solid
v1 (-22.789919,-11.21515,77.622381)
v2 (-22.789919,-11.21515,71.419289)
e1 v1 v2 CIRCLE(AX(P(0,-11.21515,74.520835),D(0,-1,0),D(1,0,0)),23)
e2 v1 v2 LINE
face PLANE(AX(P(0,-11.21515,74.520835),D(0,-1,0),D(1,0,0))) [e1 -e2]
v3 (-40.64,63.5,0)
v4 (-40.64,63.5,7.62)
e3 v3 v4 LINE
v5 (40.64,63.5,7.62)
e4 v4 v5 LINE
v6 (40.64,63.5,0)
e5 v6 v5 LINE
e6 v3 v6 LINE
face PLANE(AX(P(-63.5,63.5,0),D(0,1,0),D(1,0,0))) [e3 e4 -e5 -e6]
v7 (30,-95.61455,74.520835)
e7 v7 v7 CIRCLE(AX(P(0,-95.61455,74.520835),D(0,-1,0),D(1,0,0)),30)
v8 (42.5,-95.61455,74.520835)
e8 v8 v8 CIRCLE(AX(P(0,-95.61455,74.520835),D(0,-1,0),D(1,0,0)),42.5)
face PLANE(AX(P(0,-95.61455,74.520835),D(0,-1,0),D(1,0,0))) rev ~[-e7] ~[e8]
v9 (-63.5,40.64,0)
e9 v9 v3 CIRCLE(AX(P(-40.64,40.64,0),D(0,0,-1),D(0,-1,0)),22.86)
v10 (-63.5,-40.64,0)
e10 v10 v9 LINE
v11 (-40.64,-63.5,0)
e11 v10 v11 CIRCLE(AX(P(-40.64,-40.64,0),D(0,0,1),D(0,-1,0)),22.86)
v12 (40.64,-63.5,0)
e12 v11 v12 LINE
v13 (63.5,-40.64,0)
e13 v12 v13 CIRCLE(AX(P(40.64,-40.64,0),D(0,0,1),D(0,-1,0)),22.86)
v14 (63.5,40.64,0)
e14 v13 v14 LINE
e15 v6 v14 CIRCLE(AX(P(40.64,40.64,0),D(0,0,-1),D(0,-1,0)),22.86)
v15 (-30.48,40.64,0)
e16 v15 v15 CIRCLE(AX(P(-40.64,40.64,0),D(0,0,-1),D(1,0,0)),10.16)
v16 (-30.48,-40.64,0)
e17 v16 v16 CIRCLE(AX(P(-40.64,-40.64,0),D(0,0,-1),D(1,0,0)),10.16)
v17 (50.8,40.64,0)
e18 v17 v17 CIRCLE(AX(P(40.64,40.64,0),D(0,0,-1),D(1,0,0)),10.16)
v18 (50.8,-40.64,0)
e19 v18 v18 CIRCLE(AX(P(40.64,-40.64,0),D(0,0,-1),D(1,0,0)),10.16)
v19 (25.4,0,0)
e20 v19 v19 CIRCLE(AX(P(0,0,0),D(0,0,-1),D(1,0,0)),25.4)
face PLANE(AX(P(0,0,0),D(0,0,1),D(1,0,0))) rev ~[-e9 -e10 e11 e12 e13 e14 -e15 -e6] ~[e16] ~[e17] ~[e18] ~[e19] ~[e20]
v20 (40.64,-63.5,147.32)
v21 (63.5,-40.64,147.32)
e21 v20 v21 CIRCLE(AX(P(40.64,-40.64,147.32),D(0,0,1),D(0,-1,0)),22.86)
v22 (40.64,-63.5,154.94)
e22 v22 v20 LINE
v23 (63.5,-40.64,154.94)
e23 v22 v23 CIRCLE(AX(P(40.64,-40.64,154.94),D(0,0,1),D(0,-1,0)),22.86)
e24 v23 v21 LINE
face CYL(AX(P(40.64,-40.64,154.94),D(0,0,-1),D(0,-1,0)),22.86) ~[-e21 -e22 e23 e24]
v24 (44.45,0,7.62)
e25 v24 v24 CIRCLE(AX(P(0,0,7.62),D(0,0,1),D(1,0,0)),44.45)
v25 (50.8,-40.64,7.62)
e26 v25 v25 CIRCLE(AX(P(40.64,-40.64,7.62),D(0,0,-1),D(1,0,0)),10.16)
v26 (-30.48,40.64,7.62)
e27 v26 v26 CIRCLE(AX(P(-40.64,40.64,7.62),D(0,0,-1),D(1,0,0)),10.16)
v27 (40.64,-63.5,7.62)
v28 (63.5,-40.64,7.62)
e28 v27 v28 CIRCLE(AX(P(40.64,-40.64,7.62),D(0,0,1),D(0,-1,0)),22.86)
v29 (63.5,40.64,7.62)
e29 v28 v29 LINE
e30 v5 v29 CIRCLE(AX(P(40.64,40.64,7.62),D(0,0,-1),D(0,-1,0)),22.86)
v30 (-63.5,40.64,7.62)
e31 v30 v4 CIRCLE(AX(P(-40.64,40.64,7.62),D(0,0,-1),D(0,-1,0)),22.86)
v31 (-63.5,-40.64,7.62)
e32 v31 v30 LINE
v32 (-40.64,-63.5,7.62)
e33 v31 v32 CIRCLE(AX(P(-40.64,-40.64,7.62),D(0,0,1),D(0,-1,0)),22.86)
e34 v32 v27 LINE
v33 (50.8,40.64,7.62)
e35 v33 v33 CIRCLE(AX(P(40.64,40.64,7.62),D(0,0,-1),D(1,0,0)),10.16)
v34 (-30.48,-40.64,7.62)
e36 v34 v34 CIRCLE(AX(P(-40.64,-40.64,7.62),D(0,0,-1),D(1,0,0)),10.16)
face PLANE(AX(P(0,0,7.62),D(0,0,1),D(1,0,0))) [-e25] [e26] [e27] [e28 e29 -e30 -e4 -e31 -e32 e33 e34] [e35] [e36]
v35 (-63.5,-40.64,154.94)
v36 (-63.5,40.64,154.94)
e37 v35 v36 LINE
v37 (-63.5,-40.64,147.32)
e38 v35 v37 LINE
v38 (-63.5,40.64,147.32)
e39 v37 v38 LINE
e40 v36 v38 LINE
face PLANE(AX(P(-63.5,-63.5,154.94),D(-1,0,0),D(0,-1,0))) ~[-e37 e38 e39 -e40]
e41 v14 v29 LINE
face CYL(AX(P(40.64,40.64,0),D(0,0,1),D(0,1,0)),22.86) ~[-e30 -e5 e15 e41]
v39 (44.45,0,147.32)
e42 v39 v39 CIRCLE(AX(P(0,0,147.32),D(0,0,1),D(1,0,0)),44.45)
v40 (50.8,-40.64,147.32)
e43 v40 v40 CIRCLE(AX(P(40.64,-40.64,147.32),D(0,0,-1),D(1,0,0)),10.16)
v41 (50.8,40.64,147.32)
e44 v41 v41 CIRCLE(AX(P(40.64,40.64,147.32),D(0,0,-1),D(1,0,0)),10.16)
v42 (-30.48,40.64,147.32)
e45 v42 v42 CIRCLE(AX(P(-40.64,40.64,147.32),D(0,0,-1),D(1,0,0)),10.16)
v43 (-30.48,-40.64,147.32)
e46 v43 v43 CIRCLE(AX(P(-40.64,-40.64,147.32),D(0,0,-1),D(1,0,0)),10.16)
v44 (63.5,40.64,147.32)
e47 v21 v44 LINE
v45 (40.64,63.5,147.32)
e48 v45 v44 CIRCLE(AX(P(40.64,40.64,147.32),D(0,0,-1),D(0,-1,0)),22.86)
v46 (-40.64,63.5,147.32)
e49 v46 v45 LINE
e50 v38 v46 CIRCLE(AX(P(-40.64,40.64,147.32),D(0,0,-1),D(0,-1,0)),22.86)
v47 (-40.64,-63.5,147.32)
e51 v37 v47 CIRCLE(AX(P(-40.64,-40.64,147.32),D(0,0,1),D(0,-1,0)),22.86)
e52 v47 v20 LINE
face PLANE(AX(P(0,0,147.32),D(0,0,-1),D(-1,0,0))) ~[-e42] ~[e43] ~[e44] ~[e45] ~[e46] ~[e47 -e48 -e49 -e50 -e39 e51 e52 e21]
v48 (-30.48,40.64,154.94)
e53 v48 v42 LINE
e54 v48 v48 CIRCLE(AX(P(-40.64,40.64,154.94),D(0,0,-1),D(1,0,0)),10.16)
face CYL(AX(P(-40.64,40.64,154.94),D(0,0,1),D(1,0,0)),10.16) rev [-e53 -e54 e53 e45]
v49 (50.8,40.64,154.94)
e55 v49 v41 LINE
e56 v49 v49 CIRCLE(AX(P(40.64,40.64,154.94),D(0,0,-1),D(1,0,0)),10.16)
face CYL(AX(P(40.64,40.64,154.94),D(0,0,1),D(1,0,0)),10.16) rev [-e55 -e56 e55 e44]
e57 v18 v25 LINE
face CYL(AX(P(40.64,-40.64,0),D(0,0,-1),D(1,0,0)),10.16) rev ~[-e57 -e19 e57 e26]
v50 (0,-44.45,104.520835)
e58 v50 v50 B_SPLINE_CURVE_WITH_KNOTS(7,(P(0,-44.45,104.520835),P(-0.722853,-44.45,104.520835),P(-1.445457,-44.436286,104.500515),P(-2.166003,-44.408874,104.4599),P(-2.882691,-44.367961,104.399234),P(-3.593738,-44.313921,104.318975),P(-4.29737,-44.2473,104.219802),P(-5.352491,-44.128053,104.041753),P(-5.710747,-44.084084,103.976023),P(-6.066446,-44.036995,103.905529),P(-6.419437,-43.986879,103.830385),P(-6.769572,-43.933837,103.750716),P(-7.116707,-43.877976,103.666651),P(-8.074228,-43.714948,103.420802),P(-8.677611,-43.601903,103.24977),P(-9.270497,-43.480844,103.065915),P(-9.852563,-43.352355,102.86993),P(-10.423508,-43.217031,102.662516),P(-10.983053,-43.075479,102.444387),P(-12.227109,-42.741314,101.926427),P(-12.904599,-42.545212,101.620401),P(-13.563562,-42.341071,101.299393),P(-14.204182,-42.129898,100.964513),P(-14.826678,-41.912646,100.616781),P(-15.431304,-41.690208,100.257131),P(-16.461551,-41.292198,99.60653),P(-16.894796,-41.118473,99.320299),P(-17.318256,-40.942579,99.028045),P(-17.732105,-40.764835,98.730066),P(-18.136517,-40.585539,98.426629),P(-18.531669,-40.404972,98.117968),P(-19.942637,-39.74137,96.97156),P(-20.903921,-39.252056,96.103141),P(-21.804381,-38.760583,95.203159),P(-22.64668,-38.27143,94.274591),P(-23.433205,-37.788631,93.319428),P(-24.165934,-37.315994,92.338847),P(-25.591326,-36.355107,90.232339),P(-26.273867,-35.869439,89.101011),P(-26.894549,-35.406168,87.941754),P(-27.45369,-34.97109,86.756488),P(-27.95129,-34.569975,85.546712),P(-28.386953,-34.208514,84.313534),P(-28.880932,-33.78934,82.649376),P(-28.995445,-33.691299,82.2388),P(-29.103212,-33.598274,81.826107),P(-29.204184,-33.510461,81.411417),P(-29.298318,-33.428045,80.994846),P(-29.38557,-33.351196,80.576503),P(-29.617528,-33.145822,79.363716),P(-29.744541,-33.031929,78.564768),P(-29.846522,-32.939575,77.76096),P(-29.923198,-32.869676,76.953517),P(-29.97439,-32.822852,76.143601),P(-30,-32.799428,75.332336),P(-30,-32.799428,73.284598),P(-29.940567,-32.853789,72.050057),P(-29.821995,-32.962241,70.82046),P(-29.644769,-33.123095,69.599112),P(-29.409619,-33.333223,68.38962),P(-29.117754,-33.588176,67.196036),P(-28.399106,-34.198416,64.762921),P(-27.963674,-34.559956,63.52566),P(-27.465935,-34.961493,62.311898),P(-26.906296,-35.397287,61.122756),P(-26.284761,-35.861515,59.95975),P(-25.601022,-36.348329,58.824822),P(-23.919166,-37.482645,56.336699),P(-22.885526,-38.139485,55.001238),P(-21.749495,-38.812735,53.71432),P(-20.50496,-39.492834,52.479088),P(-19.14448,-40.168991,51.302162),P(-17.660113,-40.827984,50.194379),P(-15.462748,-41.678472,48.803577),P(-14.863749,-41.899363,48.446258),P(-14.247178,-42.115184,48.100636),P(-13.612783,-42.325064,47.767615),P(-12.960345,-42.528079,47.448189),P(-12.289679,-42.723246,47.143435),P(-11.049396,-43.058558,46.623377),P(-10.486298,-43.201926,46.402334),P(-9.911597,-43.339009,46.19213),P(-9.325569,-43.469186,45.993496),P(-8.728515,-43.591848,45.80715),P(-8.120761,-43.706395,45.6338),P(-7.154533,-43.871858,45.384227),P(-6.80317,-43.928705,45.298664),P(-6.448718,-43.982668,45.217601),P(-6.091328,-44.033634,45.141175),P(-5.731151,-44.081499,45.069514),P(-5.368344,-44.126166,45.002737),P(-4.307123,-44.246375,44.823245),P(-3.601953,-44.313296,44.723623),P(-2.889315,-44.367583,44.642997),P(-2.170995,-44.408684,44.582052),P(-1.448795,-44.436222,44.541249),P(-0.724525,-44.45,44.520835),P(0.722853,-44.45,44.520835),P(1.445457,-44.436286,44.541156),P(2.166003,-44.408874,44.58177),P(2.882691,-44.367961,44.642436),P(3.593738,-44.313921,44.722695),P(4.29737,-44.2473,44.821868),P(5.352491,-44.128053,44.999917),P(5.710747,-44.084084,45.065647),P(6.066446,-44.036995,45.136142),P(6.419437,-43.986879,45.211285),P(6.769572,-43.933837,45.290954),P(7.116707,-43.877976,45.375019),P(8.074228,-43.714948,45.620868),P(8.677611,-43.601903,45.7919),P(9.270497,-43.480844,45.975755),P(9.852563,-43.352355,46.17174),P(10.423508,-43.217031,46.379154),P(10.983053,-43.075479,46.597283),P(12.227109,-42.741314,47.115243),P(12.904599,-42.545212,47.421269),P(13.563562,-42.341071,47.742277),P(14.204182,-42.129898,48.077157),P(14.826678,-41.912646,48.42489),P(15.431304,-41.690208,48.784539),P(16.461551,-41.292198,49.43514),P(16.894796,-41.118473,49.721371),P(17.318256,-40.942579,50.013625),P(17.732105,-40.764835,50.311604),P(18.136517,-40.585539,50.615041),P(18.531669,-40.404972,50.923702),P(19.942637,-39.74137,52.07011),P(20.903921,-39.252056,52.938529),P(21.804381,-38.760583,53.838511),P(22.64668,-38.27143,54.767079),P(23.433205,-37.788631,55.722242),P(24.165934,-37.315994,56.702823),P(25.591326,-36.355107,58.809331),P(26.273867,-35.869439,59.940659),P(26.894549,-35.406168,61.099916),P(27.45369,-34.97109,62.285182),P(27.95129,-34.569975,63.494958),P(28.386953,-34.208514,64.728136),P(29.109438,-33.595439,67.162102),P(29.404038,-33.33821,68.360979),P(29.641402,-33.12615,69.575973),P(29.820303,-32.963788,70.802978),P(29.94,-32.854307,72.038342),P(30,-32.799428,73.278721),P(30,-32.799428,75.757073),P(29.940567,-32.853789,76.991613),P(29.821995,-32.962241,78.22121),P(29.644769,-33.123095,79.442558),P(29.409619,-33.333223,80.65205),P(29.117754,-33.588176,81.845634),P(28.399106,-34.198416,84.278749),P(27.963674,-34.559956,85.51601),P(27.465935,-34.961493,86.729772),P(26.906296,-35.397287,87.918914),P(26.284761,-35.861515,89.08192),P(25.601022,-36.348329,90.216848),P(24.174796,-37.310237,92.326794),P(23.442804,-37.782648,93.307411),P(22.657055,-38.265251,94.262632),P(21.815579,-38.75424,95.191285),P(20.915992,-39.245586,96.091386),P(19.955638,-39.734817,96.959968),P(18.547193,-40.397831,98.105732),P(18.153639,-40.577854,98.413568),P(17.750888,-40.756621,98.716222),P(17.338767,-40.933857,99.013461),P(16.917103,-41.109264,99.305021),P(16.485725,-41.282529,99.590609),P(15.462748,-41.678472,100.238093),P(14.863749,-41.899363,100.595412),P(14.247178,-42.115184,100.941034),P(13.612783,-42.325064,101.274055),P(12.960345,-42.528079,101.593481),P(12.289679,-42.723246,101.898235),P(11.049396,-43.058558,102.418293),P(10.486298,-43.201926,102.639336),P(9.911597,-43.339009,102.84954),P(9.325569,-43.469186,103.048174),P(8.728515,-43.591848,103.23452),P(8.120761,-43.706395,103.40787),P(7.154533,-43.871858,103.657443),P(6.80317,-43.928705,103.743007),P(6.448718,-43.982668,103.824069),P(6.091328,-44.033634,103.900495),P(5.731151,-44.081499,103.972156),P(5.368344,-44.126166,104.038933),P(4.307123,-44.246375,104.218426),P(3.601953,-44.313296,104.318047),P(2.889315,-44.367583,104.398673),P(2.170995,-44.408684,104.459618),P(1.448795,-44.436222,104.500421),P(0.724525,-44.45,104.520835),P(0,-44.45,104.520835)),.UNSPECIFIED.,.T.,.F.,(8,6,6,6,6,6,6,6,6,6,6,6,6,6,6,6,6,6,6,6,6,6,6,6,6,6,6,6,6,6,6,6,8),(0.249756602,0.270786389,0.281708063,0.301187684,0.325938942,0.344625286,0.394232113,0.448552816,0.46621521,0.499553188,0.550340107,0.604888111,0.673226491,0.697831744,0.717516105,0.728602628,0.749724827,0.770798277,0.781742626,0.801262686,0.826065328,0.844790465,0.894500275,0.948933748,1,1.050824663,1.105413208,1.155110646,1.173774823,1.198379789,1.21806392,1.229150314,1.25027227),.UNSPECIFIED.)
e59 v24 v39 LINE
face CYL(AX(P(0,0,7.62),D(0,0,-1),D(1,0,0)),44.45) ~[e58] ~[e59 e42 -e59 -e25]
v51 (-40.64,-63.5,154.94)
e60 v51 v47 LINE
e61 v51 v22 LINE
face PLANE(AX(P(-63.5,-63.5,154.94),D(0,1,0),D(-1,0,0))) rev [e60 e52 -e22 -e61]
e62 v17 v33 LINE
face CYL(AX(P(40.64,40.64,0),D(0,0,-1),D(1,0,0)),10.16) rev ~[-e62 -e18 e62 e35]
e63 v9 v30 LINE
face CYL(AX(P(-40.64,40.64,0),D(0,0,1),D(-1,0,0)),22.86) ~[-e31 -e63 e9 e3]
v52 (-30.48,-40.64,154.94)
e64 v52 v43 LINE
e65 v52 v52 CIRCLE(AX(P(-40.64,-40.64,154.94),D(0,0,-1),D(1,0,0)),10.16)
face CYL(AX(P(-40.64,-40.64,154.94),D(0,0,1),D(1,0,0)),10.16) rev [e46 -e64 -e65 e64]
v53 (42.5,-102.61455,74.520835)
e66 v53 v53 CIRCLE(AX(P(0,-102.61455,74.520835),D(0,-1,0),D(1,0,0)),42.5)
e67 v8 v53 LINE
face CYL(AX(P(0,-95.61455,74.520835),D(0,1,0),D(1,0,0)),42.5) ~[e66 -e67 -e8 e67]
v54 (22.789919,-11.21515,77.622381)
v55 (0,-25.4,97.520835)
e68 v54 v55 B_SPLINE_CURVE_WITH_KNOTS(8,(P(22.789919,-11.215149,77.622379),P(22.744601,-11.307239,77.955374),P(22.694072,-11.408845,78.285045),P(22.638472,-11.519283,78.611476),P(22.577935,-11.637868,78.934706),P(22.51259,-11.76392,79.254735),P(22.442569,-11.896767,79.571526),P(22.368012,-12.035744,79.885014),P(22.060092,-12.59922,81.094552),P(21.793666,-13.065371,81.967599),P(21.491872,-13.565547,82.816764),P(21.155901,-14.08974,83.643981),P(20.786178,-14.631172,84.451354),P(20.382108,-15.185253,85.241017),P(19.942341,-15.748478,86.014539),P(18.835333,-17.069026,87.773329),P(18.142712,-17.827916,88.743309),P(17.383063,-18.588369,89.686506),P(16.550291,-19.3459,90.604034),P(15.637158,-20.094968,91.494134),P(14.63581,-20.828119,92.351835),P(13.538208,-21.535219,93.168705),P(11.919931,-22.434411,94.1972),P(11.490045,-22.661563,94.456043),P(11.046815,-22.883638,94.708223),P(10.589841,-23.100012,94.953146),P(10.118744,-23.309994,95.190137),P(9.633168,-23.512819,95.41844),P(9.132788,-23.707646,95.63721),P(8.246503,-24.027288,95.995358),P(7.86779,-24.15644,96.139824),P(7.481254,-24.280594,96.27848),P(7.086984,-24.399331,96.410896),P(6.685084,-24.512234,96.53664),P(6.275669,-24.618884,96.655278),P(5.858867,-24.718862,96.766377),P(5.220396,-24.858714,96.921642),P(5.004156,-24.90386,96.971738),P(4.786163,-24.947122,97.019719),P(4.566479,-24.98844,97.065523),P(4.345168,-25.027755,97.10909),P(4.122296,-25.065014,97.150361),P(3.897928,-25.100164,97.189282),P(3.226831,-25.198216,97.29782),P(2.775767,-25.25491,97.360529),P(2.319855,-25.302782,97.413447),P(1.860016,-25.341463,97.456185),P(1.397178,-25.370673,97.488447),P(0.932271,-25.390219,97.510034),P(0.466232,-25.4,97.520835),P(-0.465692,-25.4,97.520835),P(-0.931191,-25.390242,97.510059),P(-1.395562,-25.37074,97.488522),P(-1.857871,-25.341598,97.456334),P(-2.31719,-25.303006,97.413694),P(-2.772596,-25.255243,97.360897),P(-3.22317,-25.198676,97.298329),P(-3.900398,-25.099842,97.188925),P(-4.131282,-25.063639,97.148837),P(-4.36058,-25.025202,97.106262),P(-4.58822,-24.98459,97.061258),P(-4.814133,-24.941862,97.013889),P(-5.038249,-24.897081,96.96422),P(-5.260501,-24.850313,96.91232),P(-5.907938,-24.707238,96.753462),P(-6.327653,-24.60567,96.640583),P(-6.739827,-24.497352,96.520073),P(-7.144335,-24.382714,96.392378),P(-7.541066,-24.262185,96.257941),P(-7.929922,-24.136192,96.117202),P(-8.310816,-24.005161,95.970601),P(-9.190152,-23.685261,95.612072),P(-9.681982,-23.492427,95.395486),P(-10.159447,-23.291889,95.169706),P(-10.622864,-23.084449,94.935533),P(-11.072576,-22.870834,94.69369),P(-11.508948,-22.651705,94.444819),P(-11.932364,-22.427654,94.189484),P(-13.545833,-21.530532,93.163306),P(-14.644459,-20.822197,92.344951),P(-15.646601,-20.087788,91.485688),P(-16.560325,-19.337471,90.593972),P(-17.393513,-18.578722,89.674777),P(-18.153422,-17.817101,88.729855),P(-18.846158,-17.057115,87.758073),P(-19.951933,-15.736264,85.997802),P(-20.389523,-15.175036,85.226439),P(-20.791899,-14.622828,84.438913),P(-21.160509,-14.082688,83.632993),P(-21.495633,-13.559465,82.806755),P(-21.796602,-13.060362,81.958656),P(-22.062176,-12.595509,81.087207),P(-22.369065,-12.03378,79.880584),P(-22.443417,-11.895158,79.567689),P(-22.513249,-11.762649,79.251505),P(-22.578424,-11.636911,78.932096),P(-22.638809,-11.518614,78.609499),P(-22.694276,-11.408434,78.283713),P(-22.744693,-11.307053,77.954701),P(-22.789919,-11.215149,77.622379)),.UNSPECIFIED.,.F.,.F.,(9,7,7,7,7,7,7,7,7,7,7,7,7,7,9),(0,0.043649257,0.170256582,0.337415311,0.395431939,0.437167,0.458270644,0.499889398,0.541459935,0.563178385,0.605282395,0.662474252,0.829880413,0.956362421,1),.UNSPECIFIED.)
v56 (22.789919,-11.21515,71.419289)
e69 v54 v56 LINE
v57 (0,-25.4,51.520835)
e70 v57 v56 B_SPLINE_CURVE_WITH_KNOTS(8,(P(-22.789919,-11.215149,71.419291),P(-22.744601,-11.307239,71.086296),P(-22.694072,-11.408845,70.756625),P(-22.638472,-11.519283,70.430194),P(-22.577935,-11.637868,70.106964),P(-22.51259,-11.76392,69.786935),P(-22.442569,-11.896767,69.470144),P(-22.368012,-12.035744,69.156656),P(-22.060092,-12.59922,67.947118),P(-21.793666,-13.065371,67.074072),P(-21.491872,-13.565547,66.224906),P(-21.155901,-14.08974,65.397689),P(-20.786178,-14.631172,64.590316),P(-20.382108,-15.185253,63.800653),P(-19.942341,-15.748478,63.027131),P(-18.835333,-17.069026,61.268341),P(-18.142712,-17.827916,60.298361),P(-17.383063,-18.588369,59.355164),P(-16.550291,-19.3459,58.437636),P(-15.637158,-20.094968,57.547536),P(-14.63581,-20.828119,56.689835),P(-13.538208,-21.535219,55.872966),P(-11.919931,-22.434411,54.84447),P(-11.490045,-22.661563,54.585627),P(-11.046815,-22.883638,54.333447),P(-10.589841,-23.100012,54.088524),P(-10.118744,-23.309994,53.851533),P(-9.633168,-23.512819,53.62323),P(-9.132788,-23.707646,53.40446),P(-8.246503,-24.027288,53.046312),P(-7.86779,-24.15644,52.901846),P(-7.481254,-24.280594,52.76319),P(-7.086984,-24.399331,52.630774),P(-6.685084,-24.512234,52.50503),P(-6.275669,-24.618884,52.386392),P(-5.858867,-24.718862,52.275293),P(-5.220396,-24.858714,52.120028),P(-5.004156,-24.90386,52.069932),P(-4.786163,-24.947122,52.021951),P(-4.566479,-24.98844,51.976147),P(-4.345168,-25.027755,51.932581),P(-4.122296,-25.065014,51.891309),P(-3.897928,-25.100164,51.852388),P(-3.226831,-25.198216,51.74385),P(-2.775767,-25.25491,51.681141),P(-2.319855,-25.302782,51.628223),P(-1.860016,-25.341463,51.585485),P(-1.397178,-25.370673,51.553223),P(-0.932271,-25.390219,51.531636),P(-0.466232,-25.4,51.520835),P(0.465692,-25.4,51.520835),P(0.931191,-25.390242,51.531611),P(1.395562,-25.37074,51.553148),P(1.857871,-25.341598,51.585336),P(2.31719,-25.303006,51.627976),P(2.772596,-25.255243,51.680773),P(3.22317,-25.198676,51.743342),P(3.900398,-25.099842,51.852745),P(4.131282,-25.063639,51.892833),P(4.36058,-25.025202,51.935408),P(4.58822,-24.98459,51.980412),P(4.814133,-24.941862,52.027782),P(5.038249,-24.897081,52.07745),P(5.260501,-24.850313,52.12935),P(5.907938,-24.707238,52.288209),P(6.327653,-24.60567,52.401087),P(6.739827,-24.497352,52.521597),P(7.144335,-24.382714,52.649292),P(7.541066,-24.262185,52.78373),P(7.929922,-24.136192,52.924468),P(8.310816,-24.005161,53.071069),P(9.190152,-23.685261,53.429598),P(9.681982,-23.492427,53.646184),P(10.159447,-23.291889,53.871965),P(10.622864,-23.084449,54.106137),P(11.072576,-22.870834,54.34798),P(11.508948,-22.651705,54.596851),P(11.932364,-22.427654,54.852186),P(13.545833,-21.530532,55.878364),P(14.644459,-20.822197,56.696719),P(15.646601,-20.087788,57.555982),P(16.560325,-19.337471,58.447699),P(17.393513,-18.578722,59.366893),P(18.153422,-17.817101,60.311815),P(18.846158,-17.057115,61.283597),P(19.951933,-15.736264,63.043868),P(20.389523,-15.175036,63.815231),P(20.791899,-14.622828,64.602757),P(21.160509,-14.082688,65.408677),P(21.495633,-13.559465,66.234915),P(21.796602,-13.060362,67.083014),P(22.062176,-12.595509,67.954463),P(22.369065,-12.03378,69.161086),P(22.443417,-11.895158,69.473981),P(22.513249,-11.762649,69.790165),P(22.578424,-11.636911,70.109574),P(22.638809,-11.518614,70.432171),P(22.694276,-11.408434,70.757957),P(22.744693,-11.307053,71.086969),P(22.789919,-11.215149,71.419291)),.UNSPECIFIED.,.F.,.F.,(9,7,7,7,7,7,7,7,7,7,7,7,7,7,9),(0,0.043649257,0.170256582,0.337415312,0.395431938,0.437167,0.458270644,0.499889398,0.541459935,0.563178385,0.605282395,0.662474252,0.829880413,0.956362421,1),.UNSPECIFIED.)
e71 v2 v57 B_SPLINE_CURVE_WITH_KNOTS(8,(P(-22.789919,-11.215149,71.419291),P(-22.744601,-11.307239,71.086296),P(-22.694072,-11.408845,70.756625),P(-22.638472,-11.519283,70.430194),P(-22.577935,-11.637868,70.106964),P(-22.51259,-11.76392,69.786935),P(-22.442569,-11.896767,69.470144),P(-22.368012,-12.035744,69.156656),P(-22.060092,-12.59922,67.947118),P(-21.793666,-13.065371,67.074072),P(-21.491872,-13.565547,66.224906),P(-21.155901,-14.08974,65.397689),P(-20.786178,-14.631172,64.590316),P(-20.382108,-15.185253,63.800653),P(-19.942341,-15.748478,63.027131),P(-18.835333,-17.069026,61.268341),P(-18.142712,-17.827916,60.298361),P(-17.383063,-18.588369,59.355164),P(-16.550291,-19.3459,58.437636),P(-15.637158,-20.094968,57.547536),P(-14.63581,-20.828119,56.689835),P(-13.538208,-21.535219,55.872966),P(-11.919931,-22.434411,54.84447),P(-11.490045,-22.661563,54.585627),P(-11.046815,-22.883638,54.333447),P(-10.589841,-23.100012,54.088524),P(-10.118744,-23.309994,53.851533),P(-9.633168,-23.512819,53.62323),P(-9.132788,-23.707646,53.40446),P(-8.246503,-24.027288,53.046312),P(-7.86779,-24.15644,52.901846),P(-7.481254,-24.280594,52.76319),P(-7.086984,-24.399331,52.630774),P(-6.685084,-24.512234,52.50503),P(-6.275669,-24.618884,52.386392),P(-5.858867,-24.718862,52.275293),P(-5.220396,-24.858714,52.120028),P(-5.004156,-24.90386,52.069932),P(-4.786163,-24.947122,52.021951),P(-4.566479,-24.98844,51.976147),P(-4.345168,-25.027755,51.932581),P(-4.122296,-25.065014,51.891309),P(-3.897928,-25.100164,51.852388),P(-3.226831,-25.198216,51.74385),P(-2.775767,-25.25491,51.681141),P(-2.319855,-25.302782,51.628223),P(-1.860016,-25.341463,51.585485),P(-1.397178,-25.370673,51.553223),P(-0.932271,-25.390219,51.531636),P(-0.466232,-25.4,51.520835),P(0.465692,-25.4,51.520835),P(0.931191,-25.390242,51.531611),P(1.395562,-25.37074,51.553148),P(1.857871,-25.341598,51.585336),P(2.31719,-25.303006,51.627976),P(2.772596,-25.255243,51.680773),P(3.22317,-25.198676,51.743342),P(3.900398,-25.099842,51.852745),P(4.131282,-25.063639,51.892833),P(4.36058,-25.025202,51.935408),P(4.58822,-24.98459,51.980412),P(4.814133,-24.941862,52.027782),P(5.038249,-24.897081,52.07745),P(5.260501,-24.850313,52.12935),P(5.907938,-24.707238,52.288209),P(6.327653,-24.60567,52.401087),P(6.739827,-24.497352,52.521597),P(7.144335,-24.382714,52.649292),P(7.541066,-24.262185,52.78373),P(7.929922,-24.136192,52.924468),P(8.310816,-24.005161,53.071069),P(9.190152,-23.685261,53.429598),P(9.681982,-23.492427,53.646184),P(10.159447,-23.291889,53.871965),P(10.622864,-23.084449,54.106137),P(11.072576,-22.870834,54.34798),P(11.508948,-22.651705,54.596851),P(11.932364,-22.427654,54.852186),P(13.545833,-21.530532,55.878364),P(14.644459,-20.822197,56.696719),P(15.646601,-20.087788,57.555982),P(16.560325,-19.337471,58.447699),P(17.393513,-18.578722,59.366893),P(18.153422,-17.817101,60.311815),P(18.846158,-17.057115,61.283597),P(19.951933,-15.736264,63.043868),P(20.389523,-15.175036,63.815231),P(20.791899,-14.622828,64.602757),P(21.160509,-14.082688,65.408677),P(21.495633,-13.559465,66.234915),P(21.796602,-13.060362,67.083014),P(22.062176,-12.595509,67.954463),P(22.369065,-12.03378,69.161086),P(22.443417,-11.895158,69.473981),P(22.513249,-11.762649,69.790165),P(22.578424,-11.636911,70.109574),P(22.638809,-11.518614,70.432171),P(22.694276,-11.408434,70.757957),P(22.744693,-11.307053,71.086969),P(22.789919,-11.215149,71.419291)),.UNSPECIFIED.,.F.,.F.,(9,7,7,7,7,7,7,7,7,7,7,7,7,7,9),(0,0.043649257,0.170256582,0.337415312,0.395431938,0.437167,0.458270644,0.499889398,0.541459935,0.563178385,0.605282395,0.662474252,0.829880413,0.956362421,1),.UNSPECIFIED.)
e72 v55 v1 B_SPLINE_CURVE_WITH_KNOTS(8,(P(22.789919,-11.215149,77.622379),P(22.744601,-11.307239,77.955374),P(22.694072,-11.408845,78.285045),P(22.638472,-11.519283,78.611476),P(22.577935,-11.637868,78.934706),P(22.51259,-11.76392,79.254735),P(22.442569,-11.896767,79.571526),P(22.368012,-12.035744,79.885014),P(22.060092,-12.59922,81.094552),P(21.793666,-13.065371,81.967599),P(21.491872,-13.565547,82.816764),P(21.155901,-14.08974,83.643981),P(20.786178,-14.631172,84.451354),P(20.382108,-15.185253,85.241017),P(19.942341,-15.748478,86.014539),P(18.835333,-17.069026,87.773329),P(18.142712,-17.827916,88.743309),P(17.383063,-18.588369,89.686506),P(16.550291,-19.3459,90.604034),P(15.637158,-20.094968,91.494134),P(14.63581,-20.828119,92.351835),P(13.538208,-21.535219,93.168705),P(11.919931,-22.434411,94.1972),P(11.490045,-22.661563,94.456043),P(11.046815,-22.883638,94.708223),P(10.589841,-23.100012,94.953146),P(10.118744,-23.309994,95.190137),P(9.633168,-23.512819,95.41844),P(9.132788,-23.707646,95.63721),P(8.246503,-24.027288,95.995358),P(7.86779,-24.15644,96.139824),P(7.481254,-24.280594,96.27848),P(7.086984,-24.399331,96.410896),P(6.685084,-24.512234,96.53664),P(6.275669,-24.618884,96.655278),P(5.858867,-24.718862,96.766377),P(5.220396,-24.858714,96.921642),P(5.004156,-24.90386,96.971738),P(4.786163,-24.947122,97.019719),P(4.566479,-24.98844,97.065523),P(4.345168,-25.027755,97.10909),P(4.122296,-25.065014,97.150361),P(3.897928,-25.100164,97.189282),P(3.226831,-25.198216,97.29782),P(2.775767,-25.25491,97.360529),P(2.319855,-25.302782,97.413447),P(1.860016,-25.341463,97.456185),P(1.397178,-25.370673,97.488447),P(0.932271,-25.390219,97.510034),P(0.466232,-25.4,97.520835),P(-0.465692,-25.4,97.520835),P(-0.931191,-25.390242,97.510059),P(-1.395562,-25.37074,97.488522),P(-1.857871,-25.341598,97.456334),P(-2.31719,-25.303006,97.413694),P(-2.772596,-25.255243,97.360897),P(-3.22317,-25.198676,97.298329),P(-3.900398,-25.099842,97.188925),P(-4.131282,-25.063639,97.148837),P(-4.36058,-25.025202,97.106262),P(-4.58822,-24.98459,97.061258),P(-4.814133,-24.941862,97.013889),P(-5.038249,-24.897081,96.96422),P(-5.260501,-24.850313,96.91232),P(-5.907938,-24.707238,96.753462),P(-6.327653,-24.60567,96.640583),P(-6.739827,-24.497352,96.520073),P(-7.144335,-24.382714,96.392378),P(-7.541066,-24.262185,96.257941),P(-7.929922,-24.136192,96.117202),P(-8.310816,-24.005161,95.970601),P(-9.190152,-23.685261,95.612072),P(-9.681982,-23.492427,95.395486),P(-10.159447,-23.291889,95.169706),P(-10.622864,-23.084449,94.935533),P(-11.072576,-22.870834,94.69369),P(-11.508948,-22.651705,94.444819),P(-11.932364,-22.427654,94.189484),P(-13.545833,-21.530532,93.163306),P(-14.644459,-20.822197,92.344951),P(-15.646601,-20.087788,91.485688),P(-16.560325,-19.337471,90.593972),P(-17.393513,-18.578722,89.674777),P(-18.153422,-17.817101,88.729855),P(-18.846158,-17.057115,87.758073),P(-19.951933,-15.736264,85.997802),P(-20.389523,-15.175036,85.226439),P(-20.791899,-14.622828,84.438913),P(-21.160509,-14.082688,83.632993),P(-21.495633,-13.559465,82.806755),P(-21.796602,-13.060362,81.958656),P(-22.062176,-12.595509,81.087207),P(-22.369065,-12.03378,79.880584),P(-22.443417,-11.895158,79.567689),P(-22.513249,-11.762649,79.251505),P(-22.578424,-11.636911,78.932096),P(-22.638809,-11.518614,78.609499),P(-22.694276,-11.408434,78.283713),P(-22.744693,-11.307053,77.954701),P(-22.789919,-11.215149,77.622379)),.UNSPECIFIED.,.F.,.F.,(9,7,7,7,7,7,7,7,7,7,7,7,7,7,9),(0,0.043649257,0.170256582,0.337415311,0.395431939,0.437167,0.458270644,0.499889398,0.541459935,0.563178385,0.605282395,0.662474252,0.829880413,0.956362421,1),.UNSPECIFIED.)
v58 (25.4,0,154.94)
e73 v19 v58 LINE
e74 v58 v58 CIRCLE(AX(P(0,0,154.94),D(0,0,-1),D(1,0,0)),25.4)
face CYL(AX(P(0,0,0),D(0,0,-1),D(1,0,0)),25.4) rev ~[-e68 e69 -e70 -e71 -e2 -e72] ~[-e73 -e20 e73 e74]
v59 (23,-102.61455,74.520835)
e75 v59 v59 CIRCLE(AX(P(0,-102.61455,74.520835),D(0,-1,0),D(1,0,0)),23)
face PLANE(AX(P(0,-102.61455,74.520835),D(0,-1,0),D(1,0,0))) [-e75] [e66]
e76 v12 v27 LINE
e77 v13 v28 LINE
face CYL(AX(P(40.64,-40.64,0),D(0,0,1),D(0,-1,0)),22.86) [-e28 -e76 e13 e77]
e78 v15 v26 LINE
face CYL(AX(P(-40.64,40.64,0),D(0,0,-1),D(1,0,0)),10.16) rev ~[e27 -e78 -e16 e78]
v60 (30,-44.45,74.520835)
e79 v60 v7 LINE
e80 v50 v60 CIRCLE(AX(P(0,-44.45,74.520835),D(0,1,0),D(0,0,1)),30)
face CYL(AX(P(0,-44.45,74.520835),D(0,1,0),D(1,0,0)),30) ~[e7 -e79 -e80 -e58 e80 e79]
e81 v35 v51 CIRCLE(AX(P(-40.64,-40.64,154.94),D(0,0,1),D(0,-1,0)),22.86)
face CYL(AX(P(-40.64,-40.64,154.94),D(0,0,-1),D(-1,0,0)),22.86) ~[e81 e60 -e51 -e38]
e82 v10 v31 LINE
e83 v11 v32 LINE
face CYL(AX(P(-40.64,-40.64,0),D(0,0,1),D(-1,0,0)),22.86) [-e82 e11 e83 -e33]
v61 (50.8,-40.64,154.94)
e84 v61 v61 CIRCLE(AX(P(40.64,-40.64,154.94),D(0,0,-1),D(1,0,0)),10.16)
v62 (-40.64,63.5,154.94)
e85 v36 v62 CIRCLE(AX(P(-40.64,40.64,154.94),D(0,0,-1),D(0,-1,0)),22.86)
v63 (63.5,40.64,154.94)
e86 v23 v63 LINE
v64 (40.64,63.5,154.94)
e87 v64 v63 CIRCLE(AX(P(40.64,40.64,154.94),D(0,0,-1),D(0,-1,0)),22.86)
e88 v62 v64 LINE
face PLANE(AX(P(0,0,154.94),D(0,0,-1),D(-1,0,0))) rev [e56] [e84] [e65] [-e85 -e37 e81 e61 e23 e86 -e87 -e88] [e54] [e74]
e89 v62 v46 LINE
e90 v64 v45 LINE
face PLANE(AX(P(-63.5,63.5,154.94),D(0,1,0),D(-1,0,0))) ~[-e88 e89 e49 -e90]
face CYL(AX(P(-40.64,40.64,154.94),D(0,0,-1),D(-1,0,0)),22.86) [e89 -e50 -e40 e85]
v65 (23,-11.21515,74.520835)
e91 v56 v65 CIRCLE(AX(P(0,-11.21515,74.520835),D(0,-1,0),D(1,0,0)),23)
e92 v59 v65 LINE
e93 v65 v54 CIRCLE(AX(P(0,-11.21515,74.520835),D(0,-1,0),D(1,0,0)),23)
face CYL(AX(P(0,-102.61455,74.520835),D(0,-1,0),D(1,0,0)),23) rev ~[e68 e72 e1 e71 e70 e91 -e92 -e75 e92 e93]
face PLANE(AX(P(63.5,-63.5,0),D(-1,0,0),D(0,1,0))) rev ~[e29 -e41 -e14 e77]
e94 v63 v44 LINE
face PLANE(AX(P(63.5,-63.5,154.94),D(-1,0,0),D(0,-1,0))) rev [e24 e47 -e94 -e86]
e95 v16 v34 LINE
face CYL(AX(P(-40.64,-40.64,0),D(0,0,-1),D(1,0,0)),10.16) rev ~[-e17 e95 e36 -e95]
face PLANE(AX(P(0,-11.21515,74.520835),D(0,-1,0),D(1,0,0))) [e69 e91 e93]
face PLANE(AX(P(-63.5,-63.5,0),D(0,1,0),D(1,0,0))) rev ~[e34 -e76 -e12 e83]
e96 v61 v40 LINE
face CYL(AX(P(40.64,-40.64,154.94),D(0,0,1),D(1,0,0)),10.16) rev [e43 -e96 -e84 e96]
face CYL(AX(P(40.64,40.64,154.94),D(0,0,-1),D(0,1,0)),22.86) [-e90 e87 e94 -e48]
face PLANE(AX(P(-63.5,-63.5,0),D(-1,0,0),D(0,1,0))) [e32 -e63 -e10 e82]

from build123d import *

# Parameters (mm, degrees)
F0_W           = 127
F0_H           = 127
F1_DEPTH       = 7.62
F2_R           = 44.45
F3_DEPTH       = 139.7
F4_R           = 22.86
F6_R           = 10.16
F7_DEPTH       = 25.4
F9_R           = 25.4
F10_DEPTH      = 154.941
F12_R          = 30
F13_DEPTH      = 19.05
F13_DEPTH_BACK = 51.16455
F14_R          = 42.5
F14_R_2        = 30
F15_DEPTH      = 7
F16_R          = 23
F17_DEPTH      = 91.3994


with BuildPart() as f1:
    # F0 (on Top) → F1 (new body)
    with BuildSketch(Plane.XY):
        Rectangle(F0_W, F0_H)
    extrude(amount=F1_DEPTH)

    # F2 (on face) → F3 (join)
    with BuildSketch(Plane.XY.offset(7.62)):
        Circle(F2_R)
    extrude(amount=F3_DEPTH)

    # F4
    f4_edges = [f1.edges().sort_by_distance(p)[0] for p in [
        (63.5, -63.5, 3.81),
        (63.5, 63.5, 3.81),
        (-63.5, -63.5, 3.81),
        (-63.5, 63.5, 3.81),
    ]]
    fillet(f4_edges, radius=F4_R)

    # F6 (on face) → F7 (cut)
    with BuildSketch(Plane(origin=(0, 0, 0), x_dir=(1, 0, 0), z_dir=(0, 0, -1))):
        with Locations((40.64, -40.64)):
            Circle(F6_R)
        with Locations((-40.64, -40.64)):
            Circle(F6_R)
        with Locations((40.64, 40.64)):
            Circle(F6_R)
        with Locations((-40.64, 40.64)):
            Circle(F6_R)
    extrude(amount=-F7_DEPTH, mode=Mode.SUBTRACT)

    # F8: F1 across plane


with BuildPart() as f1_1:
    add(f1.part)
    add(f1.part.mirror(Plane.XY.offset(77.47)))

    # F9 (on face) → F10 (cut, through all)
    with BuildSketch(Plane(origin=(0, 0, 0), x_dir=(1, 0, 0), z_dir=(0, 0, -1))):
        Circle(F9_R)
    extrude(amount=-F10_DEPTH, mode=Mode.SUBTRACT)

    # F12 (on offset) → F13 (join, two sides)
    with BuildSketch(Plane.XZ.offset(44.45)) as f13_sk:
        with Locations((0, 74.5208350375)):
            Circle(F12_R)
    extrude(amount=-F13_DEPTH)
    extrude(f13_sk.sketch, amount=F13_DEPTH_BACK)

    # F14 (on face) → F15 (join)
    with BuildSketch(Plane.XZ.offset(95.61455)):
        with Locations((0, 74.5208350375)):
            Circle(F14_R)
        with Locations((0, 74.5208350375)):
            Circle(F14_R_2, mode=Mode.SUBTRACT)
        with Locations((0, 74.5208350375)):
            Circle(F14_R_2)
    extrude(amount=F15_DEPTH)

    # F16 (on face) → F17 (cut)
    with BuildSketch(Plane.XZ.offset(102.61455)):
        with Locations((0, 74.5208350375)):
            Circle(F16_R)
    extrude(amount=-F17_DEPTH, mode=Mode.SUBTRACT)


solid = f1_1.part
